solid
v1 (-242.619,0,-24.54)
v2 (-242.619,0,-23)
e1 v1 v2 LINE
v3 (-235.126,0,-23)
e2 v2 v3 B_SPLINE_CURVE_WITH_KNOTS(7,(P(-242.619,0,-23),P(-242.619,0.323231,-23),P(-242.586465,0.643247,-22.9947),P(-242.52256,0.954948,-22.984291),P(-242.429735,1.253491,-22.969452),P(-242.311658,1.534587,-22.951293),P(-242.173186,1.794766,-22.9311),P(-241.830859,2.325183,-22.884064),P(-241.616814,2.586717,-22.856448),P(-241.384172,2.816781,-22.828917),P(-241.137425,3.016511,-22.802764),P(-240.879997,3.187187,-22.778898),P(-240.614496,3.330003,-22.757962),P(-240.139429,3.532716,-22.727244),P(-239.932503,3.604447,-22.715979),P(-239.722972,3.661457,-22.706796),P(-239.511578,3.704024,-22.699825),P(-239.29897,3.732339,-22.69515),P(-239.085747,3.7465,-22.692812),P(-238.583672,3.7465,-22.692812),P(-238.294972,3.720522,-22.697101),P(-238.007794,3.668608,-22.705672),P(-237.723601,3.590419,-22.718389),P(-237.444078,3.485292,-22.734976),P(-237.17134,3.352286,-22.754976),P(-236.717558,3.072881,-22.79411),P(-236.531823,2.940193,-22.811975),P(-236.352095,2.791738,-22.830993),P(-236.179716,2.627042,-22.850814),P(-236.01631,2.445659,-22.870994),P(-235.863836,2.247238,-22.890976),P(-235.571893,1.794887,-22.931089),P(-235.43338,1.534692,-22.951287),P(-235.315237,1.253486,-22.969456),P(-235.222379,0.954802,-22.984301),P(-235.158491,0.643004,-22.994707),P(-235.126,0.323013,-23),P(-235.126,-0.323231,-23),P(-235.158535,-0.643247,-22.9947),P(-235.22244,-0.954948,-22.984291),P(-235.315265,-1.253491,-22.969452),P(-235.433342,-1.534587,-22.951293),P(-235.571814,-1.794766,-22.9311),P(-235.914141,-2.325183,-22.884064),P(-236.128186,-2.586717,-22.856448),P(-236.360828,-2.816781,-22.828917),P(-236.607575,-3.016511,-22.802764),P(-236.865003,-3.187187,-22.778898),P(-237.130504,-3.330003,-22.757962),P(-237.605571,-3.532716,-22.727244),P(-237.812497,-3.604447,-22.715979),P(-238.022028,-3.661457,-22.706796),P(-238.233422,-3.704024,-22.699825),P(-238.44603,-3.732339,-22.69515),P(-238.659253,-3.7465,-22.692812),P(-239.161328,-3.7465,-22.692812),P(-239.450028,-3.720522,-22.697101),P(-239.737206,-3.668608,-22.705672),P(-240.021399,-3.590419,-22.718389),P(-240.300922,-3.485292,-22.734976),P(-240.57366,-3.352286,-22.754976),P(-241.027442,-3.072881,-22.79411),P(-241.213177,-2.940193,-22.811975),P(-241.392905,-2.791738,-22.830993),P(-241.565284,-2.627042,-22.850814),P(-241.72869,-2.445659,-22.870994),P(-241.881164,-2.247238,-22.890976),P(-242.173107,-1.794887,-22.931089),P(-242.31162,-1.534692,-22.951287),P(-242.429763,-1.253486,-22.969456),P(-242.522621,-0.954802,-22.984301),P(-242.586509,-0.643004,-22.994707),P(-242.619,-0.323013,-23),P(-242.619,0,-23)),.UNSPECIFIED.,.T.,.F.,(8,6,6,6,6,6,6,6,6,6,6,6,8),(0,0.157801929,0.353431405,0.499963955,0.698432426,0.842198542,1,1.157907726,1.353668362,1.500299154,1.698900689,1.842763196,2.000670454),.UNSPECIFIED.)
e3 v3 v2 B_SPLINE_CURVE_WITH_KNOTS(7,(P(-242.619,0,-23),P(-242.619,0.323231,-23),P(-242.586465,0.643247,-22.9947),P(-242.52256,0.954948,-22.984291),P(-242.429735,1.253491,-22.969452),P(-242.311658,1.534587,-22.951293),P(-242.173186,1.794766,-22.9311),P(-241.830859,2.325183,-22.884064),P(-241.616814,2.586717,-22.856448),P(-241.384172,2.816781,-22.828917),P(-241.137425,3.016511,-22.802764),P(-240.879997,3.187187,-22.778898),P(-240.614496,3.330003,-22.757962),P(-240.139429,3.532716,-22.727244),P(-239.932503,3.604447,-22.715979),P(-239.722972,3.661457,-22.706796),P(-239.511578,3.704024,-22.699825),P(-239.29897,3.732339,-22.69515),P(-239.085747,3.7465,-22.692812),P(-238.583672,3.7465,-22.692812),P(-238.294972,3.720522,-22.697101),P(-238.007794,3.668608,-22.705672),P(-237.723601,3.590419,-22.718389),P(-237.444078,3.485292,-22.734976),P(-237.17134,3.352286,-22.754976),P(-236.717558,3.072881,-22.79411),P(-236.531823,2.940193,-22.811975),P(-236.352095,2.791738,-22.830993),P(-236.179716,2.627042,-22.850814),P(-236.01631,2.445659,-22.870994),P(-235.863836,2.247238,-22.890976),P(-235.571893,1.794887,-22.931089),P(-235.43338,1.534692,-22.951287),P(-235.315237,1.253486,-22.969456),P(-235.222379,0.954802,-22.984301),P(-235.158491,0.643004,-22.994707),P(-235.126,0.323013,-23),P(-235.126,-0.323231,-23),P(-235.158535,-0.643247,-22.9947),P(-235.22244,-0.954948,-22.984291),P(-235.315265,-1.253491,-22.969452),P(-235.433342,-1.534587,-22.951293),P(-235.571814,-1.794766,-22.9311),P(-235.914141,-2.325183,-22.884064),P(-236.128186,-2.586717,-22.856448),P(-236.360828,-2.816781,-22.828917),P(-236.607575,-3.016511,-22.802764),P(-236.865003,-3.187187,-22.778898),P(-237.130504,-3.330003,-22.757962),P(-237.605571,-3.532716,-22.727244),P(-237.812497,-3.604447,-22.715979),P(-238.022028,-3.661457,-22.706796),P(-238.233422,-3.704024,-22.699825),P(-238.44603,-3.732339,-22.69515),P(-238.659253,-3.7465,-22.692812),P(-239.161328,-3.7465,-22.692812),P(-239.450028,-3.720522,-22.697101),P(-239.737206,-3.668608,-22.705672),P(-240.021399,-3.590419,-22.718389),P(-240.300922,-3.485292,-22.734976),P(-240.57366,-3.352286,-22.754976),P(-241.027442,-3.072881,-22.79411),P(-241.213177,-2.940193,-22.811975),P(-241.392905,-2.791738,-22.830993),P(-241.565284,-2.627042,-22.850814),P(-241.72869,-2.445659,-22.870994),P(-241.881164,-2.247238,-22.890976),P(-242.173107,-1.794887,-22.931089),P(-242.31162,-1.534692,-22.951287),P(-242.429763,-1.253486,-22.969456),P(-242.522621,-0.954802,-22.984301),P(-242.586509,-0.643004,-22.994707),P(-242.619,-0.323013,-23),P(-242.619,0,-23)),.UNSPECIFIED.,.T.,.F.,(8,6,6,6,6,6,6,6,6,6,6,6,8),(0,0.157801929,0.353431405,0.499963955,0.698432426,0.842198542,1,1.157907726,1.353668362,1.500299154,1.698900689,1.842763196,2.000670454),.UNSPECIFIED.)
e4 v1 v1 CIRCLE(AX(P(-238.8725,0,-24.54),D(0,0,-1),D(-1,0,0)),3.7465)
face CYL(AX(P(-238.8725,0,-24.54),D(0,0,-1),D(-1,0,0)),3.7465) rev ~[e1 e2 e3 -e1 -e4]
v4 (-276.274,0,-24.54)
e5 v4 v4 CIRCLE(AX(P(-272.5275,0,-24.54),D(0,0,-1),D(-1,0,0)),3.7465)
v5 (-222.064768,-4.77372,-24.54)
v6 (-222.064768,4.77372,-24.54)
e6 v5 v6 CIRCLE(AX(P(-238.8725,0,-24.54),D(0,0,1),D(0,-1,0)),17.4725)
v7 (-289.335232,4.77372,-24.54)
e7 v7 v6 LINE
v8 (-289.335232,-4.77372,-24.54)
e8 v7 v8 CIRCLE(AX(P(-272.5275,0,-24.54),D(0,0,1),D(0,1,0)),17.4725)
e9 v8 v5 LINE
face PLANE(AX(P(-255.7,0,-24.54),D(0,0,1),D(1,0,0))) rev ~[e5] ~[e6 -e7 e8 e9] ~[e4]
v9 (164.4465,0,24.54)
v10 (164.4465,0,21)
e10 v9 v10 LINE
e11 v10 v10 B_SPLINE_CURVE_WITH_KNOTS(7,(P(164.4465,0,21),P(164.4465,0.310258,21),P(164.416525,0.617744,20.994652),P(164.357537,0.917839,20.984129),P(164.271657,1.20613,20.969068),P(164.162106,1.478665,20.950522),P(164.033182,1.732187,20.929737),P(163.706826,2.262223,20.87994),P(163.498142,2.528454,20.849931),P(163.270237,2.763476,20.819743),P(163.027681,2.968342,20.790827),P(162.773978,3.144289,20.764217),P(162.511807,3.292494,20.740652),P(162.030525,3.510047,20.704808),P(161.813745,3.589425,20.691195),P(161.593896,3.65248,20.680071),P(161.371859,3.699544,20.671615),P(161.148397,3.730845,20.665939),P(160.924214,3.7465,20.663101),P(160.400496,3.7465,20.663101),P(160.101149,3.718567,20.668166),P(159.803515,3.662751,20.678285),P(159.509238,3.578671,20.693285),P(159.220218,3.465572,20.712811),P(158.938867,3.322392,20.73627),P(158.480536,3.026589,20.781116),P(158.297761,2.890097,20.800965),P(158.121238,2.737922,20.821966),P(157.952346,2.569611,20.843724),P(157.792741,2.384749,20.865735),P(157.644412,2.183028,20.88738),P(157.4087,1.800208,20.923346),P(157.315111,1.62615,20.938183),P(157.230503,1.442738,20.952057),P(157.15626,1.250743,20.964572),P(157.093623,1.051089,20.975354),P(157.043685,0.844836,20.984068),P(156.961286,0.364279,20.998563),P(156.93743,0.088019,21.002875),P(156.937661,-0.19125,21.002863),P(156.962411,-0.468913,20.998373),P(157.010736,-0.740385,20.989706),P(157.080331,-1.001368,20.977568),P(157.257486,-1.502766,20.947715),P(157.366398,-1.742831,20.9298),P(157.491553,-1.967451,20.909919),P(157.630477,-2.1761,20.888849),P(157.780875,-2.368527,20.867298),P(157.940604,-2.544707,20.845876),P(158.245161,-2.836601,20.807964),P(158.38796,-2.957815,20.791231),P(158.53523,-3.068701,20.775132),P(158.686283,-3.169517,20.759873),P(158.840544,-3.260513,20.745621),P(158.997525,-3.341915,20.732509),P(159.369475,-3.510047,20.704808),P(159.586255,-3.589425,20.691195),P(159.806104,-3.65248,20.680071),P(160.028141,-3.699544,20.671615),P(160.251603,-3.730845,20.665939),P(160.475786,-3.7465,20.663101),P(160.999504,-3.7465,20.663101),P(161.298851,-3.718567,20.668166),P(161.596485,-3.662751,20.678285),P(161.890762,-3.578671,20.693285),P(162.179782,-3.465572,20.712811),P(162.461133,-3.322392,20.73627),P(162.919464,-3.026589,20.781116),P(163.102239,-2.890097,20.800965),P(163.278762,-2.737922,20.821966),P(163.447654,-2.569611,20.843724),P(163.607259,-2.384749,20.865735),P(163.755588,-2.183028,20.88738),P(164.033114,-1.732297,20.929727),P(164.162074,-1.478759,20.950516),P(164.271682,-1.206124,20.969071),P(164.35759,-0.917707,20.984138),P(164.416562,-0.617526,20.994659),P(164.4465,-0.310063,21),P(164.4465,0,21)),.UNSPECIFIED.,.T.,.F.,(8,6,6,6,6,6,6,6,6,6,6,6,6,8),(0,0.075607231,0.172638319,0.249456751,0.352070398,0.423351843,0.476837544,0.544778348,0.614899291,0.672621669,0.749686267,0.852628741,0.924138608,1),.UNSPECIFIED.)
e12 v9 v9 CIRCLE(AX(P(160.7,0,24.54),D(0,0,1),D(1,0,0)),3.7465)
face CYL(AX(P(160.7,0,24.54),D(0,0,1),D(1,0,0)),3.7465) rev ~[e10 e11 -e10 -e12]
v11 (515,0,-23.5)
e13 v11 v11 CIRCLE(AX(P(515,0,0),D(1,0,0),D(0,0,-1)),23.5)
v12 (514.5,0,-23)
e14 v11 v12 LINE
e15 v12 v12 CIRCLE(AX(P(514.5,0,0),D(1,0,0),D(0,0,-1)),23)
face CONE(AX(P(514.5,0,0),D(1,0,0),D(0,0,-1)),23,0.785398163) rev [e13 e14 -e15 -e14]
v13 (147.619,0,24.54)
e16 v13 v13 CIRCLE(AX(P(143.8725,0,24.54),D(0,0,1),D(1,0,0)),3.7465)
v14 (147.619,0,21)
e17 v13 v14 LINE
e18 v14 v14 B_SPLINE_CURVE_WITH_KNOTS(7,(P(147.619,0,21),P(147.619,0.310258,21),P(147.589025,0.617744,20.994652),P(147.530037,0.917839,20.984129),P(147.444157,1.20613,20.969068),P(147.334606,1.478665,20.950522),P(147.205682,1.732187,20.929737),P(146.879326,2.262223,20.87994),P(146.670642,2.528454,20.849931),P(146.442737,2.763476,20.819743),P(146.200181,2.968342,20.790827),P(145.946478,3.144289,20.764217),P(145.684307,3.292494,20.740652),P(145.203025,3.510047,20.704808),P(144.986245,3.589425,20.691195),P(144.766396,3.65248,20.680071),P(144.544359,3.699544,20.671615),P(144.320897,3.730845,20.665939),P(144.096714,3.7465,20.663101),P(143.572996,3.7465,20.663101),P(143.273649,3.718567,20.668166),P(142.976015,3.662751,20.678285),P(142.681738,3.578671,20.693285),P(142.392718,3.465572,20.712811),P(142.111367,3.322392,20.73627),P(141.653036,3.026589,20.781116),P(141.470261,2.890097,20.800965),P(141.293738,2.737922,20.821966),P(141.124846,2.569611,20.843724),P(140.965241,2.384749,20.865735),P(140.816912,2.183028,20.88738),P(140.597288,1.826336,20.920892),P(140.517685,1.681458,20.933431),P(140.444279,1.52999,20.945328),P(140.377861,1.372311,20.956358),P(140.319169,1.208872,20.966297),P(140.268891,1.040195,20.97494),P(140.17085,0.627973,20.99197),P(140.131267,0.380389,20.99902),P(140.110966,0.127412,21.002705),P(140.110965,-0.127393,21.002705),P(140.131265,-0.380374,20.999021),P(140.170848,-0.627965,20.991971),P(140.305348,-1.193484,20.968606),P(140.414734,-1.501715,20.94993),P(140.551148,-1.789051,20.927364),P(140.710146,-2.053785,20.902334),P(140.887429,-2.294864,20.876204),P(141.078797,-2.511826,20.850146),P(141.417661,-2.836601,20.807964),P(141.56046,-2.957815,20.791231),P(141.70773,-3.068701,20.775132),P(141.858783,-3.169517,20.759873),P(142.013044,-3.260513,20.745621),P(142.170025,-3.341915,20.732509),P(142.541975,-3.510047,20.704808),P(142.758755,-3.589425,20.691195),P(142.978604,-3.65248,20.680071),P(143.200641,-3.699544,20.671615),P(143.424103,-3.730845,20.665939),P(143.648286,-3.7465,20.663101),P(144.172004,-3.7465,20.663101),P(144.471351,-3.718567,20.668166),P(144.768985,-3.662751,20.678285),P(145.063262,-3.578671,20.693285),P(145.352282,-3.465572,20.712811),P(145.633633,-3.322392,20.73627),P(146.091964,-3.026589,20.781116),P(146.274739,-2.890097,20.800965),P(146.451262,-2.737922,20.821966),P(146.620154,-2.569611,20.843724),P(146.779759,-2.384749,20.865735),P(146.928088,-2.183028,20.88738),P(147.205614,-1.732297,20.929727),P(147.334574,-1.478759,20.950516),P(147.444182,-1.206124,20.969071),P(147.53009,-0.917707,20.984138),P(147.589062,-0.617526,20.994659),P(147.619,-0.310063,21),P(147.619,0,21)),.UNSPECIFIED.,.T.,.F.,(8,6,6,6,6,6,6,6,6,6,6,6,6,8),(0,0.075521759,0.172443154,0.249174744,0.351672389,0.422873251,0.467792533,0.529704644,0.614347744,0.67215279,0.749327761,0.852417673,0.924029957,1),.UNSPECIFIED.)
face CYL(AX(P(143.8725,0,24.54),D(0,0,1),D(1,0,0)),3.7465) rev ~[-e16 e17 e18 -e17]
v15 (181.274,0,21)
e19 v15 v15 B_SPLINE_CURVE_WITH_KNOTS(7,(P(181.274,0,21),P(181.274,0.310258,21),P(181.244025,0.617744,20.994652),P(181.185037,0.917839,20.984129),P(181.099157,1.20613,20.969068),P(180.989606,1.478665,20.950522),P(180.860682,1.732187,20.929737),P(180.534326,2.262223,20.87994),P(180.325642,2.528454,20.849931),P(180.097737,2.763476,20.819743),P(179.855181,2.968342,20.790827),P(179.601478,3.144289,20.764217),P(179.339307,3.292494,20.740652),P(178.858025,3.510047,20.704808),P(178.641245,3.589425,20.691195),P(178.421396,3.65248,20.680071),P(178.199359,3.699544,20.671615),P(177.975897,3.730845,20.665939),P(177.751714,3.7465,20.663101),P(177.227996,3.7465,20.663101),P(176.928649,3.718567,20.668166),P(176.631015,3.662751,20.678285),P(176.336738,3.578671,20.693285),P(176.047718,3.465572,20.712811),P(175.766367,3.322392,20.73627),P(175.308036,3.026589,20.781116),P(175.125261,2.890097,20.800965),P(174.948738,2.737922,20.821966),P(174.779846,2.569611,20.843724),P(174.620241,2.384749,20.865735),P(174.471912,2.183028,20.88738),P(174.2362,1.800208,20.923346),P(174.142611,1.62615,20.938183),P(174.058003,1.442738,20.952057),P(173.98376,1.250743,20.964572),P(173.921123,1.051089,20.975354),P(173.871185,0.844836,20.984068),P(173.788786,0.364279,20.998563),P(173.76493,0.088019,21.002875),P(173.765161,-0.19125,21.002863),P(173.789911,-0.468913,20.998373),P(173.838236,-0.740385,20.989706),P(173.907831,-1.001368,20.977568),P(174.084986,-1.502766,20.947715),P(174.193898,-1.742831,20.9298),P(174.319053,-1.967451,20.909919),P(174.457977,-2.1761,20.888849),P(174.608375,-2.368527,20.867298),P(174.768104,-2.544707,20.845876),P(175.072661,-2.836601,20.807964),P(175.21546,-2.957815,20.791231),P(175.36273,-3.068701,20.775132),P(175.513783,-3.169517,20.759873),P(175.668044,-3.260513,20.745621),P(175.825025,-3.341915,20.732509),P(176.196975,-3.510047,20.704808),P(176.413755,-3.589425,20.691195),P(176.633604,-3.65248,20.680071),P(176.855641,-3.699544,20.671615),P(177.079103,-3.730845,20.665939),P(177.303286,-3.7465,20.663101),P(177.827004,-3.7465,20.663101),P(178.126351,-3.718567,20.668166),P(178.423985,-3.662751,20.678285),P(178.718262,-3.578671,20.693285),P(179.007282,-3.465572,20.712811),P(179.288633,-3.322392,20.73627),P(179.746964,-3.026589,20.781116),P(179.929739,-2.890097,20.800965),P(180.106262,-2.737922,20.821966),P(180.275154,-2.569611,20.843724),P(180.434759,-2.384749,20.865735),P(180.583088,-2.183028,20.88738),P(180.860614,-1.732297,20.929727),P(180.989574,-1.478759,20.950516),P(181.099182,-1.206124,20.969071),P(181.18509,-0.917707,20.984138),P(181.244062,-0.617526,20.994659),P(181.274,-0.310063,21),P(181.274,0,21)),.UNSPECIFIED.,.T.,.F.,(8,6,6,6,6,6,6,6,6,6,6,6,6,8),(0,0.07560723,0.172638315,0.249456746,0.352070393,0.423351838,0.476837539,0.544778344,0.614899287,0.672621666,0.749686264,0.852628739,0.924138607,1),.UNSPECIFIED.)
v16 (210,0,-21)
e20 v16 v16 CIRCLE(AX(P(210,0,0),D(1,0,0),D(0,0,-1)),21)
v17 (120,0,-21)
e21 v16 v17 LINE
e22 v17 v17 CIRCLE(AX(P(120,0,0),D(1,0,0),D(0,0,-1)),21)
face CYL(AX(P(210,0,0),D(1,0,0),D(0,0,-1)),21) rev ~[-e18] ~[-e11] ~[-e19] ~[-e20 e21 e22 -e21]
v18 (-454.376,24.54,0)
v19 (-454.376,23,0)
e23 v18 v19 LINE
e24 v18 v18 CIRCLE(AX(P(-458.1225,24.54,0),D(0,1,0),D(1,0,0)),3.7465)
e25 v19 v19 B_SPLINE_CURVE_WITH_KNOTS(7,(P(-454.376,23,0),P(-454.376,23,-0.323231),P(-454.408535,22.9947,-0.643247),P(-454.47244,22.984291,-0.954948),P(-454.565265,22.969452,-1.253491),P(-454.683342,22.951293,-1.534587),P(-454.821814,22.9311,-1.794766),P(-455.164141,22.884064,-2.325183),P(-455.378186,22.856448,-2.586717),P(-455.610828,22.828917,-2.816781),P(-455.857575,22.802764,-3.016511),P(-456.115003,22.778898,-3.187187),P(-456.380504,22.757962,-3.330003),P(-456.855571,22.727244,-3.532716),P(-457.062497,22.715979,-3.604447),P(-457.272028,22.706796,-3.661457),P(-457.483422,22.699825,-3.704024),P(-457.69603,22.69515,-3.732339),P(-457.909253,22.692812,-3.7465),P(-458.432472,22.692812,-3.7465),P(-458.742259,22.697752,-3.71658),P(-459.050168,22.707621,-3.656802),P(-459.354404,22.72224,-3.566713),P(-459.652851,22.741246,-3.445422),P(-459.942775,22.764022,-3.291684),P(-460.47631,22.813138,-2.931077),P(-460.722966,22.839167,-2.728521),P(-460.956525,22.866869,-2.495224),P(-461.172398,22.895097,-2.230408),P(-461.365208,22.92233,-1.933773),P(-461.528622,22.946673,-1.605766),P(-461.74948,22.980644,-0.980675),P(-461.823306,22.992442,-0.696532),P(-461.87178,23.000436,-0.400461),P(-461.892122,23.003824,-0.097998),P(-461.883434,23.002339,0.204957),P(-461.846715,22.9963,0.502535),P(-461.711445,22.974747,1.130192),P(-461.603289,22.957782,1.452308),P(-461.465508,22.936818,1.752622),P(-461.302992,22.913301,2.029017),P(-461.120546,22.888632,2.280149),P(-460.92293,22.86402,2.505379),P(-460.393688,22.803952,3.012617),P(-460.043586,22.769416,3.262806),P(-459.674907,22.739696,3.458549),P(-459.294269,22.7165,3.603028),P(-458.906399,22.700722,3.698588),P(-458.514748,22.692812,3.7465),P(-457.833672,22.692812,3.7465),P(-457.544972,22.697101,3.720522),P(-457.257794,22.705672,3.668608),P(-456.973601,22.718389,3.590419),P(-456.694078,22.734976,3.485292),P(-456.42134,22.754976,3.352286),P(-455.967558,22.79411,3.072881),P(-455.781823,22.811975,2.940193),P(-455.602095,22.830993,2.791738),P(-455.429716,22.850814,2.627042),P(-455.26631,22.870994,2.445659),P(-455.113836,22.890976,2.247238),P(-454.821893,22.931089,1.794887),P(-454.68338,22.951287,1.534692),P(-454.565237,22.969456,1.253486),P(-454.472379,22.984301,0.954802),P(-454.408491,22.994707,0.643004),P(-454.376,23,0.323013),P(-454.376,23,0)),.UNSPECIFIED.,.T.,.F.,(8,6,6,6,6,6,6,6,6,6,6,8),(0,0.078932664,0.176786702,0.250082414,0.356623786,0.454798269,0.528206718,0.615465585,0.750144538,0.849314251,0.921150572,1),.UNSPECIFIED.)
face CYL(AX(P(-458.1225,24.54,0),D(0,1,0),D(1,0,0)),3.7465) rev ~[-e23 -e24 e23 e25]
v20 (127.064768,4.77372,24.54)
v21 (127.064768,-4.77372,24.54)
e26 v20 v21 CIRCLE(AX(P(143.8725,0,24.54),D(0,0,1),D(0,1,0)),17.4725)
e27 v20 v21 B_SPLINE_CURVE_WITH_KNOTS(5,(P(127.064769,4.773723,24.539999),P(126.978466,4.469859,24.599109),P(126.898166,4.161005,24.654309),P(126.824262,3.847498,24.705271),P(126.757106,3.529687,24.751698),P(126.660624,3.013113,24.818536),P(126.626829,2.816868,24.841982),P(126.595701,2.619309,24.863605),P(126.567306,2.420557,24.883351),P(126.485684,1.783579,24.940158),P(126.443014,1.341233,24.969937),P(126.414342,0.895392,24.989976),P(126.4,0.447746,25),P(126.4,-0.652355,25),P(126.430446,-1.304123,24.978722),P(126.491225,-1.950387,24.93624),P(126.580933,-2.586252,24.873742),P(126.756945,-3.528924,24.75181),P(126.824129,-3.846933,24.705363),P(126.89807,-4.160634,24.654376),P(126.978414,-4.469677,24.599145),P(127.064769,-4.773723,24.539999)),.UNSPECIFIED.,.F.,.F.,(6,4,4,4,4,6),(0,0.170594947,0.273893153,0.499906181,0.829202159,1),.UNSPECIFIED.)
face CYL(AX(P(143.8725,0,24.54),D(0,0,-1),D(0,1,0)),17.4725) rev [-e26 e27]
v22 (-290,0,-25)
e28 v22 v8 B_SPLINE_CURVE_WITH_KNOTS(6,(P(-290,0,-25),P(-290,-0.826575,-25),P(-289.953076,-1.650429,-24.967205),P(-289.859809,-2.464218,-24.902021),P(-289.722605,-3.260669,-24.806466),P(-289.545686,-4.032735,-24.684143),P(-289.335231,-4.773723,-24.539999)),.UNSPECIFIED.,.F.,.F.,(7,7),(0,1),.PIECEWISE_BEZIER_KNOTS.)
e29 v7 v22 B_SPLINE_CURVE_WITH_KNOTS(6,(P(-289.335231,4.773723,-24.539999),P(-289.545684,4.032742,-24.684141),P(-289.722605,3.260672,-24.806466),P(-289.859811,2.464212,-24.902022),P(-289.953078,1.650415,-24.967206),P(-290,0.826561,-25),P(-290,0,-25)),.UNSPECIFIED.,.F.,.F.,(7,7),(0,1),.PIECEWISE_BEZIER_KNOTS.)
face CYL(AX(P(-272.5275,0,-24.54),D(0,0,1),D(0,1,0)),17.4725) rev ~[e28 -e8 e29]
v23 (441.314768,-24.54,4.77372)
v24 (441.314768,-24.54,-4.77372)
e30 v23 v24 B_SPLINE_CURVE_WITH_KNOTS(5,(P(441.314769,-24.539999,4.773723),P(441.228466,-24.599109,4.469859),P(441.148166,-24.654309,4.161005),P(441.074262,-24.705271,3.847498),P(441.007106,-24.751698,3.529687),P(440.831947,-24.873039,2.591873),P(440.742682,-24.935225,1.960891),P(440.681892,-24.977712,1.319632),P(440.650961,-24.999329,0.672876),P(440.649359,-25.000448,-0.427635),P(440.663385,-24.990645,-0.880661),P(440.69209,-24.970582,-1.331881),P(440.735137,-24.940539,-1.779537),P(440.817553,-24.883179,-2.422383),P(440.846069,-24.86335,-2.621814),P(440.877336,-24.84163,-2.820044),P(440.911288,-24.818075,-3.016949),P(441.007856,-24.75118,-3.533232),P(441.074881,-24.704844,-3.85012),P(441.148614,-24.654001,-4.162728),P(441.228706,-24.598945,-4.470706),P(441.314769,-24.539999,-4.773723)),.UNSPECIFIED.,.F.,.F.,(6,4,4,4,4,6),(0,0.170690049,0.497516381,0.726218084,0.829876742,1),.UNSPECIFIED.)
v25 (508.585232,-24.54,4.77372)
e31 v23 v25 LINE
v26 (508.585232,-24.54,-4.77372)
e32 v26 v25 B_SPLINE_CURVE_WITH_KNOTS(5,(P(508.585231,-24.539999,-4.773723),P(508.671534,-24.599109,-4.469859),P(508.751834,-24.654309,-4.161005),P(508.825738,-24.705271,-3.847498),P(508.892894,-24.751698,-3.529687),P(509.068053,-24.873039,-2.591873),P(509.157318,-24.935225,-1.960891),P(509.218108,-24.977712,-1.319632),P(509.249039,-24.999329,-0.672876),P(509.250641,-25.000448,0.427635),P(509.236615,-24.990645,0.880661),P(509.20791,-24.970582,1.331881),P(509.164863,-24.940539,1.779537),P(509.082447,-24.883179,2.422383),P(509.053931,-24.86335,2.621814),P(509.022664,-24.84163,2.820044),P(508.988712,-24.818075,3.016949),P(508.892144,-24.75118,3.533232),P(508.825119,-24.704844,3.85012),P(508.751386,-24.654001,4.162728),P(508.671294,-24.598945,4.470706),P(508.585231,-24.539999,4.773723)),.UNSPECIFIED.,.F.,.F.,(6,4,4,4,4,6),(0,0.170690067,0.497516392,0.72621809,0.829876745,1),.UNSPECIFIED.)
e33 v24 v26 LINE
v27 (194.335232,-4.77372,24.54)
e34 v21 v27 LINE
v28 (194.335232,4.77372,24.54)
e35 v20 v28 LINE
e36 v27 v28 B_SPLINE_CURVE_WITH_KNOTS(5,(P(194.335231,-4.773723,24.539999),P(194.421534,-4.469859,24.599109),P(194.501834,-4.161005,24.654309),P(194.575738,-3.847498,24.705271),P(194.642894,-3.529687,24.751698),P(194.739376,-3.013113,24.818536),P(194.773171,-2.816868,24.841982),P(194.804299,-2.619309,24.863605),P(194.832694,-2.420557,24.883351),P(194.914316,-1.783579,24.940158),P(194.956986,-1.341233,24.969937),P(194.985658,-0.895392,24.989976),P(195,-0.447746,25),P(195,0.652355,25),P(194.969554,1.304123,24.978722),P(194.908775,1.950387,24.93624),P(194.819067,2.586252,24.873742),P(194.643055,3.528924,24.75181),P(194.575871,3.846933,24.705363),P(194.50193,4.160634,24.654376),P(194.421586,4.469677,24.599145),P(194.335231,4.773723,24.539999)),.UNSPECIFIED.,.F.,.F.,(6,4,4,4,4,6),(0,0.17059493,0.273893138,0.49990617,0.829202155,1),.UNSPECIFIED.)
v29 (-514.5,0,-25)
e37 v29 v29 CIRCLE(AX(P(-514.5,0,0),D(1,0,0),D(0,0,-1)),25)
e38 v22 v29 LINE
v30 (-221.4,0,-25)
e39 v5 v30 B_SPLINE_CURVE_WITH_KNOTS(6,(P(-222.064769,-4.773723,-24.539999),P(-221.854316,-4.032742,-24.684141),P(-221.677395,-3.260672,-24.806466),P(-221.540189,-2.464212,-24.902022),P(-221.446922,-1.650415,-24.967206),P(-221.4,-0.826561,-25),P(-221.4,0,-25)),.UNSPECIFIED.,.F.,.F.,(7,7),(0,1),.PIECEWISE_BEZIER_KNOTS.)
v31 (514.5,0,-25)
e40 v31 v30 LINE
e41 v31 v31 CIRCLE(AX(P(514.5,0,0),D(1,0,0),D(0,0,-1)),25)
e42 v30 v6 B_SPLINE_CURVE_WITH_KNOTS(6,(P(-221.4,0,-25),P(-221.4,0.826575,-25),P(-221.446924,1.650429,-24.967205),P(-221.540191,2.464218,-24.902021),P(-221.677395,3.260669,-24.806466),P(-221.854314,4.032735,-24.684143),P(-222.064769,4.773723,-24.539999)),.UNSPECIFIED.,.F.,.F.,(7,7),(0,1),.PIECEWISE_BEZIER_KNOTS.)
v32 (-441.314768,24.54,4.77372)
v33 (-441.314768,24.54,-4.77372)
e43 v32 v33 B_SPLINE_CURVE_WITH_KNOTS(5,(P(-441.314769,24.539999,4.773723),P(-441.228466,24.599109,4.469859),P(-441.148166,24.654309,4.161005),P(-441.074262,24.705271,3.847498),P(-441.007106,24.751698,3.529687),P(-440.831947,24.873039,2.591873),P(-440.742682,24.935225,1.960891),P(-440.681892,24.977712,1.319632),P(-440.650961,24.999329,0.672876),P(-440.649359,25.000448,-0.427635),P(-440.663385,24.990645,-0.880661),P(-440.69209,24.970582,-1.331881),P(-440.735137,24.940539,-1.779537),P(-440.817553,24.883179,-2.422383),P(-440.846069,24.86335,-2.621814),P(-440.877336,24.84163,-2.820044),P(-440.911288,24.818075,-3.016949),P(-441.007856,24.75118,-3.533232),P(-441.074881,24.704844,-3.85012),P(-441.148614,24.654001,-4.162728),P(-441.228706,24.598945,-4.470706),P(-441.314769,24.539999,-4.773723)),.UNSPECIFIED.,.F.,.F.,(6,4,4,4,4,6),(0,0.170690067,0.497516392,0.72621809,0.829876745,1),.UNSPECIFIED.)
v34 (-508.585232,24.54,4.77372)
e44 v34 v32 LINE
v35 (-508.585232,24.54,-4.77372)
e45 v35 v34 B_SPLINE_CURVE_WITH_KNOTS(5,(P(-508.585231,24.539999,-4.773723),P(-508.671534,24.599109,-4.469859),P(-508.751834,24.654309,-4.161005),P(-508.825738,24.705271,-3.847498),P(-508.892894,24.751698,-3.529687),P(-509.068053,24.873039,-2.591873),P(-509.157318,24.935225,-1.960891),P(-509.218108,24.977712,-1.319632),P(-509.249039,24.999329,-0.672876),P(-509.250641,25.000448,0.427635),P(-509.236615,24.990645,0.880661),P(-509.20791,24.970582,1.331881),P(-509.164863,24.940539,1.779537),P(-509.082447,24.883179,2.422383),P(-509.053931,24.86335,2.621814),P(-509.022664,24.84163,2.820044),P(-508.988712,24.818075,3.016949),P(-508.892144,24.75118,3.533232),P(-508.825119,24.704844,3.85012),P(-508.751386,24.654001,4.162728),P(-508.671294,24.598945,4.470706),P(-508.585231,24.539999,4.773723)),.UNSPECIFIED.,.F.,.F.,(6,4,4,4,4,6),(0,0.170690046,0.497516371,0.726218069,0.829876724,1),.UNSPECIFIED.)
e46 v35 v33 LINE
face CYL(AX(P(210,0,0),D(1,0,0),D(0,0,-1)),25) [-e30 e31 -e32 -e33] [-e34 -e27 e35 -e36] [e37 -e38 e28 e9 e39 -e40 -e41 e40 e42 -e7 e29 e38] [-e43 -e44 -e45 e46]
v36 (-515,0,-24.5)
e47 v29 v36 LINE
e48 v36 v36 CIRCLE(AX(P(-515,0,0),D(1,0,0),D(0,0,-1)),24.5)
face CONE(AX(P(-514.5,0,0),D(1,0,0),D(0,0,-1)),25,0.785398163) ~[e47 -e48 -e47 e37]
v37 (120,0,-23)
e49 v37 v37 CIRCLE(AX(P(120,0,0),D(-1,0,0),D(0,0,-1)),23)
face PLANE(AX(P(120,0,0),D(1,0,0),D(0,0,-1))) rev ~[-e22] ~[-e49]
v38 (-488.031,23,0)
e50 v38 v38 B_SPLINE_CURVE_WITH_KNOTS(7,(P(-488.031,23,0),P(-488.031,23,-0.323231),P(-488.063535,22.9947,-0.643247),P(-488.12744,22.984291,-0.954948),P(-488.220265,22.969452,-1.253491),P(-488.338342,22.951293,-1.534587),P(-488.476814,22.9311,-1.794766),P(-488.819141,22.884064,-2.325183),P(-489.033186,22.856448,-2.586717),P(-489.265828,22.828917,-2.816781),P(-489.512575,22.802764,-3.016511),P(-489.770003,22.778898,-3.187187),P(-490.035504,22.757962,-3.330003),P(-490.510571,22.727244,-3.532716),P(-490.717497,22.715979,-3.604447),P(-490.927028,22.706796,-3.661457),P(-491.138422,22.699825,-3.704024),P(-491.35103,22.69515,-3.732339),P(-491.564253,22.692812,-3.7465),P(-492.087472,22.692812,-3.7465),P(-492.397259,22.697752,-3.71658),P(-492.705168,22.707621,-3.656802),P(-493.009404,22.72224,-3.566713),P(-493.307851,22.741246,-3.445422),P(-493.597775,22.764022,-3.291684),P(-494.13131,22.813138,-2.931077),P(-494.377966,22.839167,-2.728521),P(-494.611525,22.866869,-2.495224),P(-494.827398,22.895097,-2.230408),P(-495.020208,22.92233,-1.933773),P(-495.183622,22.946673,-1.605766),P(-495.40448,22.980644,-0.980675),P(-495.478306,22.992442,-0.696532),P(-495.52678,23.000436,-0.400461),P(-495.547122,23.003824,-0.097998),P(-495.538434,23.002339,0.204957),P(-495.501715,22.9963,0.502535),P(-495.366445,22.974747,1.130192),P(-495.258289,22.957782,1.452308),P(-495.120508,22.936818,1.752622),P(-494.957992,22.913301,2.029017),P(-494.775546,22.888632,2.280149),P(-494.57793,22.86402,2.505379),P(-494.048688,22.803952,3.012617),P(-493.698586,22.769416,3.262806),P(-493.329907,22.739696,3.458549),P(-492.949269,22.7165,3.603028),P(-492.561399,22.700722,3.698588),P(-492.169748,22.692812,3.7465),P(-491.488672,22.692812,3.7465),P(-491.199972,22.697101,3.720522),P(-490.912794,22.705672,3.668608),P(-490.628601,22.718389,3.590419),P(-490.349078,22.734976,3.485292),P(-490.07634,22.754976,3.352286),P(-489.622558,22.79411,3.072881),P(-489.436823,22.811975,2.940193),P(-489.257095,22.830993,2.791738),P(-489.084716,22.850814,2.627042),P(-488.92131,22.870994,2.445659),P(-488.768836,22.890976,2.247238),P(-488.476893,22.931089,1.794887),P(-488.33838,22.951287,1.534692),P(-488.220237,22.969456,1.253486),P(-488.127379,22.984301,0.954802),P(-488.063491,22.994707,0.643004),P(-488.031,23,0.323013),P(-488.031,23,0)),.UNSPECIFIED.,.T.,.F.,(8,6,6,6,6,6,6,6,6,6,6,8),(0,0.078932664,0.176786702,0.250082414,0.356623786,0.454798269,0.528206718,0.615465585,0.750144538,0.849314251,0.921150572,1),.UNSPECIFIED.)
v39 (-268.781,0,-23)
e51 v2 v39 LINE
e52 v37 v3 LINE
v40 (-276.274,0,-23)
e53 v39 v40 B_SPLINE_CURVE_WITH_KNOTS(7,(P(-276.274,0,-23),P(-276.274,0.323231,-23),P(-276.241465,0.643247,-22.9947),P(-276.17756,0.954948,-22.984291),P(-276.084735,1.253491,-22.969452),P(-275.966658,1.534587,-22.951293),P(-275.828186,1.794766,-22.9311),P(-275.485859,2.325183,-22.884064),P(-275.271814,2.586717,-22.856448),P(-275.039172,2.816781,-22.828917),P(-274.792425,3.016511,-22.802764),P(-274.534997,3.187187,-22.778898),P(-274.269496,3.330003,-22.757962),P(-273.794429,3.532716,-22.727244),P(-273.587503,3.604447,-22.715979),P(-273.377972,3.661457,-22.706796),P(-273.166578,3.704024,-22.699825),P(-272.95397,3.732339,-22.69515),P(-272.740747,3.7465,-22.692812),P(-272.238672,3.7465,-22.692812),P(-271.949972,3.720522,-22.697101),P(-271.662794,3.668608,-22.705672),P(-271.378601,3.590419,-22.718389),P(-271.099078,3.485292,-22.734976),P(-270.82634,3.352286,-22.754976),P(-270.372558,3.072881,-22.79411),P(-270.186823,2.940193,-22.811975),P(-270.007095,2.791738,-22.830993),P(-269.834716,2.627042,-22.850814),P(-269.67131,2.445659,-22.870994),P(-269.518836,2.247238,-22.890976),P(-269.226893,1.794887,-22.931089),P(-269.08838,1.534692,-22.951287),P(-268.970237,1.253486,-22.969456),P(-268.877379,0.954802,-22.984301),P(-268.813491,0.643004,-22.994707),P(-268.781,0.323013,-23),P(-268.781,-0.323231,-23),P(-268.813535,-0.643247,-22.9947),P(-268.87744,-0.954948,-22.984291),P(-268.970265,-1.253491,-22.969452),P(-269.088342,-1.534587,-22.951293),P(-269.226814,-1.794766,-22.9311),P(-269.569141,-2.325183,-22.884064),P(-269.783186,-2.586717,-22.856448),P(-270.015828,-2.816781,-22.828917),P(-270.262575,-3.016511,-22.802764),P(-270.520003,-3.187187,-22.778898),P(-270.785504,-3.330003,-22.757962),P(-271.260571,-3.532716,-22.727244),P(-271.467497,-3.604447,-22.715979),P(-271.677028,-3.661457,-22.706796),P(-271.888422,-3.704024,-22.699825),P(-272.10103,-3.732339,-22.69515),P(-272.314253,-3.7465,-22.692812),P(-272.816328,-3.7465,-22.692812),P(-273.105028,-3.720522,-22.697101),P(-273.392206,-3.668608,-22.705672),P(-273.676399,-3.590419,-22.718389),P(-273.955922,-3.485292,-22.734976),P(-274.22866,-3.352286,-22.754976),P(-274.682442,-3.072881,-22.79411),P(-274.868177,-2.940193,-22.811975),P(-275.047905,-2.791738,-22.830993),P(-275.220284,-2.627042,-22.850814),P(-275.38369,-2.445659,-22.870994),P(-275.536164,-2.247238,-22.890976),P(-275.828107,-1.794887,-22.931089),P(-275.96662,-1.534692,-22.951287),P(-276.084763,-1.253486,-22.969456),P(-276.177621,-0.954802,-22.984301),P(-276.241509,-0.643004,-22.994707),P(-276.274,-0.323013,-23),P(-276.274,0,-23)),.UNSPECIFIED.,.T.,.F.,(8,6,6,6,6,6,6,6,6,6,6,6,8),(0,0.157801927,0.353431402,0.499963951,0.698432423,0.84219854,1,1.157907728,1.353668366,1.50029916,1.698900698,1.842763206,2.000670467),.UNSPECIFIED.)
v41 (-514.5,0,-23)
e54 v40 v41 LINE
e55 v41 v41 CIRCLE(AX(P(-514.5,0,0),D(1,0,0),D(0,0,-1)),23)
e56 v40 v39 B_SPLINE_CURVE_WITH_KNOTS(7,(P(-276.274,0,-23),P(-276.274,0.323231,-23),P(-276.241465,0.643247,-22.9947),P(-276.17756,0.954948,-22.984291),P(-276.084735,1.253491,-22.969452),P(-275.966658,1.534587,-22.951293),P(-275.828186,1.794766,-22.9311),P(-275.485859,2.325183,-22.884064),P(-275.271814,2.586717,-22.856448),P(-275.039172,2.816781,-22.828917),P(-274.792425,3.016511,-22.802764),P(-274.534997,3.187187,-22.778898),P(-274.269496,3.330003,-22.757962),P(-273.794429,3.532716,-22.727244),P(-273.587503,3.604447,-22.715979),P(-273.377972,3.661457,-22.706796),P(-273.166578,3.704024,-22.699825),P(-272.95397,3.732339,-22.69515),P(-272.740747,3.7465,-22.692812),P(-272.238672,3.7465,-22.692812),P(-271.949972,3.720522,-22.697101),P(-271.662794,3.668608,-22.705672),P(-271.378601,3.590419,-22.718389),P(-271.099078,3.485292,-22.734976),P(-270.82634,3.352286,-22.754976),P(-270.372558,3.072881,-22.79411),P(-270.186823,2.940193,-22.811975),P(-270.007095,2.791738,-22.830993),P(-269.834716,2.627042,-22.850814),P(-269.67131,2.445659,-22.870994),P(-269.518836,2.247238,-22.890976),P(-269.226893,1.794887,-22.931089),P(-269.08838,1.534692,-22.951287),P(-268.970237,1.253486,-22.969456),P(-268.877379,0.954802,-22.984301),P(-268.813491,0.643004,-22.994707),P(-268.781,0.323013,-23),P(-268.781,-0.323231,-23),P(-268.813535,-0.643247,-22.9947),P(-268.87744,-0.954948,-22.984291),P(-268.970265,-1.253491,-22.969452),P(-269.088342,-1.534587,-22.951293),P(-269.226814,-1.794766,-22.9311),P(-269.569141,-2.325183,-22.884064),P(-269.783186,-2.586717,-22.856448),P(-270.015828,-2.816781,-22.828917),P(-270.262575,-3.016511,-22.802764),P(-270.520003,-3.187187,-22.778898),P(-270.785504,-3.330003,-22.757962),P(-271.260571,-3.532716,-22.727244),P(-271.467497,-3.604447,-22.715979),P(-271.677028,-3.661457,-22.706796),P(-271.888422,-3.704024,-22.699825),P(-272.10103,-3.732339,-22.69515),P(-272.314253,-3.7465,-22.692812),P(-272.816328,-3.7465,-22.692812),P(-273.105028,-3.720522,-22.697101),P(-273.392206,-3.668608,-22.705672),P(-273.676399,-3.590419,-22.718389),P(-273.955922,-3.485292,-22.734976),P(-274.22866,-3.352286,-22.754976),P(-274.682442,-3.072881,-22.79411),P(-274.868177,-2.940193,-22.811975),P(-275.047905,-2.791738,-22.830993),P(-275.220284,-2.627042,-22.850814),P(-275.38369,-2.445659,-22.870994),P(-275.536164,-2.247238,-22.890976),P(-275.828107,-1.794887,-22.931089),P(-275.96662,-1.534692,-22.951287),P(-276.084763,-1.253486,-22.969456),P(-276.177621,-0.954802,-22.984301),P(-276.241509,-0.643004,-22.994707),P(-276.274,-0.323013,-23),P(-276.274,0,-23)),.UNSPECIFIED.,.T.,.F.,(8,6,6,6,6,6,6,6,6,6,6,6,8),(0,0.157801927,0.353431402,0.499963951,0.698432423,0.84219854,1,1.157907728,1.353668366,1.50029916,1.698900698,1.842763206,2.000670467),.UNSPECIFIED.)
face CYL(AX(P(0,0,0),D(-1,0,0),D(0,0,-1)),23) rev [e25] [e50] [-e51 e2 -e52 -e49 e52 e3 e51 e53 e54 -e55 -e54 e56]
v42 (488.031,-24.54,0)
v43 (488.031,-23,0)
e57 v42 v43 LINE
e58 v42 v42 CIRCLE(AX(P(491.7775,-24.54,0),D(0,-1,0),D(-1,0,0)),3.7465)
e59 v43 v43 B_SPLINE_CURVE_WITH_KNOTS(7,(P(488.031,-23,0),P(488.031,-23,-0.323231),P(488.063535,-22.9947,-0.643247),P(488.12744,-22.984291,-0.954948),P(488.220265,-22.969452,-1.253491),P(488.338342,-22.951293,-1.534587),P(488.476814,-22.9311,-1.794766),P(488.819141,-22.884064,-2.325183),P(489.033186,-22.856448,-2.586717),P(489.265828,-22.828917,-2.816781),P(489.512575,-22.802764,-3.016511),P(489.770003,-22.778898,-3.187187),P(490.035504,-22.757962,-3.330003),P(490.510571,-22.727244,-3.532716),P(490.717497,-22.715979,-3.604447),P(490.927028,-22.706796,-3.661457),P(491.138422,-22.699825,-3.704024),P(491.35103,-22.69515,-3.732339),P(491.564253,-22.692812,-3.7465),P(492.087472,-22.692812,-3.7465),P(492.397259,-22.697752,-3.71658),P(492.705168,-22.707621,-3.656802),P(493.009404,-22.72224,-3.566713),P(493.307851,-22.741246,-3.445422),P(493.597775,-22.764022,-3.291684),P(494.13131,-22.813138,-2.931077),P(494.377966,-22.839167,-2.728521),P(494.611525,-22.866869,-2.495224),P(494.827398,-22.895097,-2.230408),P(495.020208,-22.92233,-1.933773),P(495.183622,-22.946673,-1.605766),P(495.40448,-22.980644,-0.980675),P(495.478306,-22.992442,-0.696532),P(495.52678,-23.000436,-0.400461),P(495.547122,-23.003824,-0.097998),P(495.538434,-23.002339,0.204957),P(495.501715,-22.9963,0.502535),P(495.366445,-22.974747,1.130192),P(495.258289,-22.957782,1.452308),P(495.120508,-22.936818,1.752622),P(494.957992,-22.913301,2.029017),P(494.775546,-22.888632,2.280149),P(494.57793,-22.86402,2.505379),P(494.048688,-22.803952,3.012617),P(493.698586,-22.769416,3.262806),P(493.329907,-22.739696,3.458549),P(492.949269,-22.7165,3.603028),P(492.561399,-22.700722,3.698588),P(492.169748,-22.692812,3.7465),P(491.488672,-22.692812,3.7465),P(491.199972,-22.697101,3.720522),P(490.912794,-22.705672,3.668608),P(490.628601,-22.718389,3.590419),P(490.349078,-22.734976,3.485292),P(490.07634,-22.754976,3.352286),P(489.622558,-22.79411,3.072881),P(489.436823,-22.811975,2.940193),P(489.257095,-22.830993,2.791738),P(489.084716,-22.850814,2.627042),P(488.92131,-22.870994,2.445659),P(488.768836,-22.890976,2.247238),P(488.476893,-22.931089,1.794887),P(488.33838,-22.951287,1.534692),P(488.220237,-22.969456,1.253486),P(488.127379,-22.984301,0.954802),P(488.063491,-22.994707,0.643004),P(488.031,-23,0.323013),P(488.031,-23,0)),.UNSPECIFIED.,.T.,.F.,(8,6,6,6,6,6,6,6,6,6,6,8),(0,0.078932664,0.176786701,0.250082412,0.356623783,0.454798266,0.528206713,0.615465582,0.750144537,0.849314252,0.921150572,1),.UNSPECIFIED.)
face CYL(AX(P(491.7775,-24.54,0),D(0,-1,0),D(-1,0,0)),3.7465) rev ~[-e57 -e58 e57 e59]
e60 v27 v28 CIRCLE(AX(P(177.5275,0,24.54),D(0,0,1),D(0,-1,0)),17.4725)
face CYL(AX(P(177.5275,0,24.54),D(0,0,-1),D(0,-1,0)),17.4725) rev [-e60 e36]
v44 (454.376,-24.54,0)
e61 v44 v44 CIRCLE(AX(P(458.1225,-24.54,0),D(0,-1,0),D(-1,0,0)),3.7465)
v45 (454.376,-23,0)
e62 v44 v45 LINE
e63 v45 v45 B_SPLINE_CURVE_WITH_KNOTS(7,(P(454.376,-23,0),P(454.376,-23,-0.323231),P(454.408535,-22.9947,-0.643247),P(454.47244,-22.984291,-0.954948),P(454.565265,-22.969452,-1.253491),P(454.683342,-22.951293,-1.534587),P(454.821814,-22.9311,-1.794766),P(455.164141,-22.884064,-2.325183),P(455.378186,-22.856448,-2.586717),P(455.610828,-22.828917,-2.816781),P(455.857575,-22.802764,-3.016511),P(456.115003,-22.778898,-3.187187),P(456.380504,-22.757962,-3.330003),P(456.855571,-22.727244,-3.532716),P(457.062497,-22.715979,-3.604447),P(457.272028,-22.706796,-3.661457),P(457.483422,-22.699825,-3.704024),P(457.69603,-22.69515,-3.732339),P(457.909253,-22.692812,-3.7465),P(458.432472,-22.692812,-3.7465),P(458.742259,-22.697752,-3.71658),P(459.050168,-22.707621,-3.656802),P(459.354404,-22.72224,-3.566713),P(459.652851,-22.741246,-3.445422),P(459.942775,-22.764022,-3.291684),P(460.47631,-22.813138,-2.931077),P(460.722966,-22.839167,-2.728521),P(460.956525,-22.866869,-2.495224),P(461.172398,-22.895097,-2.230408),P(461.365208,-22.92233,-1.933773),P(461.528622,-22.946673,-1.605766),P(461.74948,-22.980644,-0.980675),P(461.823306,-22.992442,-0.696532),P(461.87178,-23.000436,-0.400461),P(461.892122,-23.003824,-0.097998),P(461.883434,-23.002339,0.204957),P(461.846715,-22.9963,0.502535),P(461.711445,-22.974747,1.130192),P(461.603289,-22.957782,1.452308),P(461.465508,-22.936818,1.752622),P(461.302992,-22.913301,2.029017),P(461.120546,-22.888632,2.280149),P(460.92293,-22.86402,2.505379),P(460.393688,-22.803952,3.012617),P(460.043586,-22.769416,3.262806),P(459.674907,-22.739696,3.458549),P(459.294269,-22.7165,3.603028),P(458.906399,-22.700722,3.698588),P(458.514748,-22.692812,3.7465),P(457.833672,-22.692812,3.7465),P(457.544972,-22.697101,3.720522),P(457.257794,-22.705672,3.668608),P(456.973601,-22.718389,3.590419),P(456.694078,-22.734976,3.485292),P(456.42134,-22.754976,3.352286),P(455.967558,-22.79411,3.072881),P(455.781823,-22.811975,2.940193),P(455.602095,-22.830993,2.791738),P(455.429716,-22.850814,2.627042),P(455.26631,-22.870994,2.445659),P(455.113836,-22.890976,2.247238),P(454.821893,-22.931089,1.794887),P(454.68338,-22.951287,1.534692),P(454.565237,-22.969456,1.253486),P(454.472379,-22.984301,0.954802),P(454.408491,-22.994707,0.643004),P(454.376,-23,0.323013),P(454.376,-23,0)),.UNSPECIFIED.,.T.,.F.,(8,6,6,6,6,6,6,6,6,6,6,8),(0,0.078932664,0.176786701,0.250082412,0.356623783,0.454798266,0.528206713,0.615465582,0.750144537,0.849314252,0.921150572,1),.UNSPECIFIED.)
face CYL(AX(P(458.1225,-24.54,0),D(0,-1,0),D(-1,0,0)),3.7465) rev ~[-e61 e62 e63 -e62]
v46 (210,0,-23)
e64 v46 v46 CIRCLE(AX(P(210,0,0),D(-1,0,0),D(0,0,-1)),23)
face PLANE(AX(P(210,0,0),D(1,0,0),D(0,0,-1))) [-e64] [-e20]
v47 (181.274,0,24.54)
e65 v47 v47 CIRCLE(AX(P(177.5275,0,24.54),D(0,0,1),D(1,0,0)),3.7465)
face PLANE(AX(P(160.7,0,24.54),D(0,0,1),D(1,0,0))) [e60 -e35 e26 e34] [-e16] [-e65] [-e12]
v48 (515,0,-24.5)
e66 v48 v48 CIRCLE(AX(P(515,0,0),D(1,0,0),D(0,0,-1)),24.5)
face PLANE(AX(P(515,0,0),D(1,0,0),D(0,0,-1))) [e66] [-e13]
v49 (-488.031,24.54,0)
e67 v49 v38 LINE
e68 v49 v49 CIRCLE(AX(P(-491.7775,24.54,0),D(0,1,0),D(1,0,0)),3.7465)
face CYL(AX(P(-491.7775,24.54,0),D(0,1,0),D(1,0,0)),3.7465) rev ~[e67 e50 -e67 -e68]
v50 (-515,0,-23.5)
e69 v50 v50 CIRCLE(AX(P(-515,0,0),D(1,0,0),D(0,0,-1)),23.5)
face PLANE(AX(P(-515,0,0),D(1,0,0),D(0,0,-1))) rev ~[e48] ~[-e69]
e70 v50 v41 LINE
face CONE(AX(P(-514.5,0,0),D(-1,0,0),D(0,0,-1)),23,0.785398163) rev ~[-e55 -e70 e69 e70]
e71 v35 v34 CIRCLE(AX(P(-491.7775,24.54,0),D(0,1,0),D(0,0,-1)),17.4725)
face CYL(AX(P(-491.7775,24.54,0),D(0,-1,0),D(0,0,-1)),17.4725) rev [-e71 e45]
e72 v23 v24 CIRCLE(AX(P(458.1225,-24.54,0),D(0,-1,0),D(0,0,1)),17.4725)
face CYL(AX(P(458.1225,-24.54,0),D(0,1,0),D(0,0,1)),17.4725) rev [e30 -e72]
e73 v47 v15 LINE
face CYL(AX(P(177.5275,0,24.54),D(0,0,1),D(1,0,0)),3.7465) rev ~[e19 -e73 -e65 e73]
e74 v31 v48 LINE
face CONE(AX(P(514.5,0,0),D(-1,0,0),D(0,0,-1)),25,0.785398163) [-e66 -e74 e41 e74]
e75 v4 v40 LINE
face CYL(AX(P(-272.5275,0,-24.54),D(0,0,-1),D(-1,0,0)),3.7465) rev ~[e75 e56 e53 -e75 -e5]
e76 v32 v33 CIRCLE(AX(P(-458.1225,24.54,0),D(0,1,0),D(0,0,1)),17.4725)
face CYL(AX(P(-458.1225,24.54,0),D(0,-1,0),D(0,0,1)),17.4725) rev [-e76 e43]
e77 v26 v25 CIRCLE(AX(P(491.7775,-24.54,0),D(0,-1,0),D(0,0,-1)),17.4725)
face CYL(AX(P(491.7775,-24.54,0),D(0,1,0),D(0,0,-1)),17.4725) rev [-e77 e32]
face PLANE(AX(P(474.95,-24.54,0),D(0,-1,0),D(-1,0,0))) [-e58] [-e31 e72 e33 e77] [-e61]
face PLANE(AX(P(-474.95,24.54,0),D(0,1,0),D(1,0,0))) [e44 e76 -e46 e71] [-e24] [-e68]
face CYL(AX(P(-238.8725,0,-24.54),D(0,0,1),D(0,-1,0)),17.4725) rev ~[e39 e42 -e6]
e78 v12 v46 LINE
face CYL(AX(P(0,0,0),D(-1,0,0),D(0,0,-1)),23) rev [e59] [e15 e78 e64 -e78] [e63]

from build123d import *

# Parameters (mm, degrees)
SKETCH1_R                     = 25
SKETCH1_R_2                   = 23
EXTRUDE_THIN1_DEPTH           = 515
EXTRUDE_THIN2_START           = 210
SKETCH1_3_R                   = 25
SKETCH1_3_R_2                 = 21
EXTRUDE_THIN2_DEPTH           = 90
CUT_EXTRUDE1_START            = 24.54
CUT_EXTRUDE1_DEPTH            = 492.672165684
CUT_EXTRUDE2_START            = -24.54
CUT_EXTRUDE2_DEPTH            = 492.672165793
CUT_EXTRUDE3_START            = -24.54
CUT_EXTRUDE3_DEPTH            = 492.672165793
CUT_EXTRUDE4_START            = 24.54
CUT_EXTRUDE4_DEPTH            = 492.672165793
M_0_295_DIAMETER_HOLE3_REACH  = 519.981
M_0_295_DIAMETER_HOLE3_BORE_R = 3.7465
M_0_295_DIAMETER_HOLE4_REACH  = 519.981
M_0_295_DIAMETER_HOLE4_BORE_R = 3.7465
M_0_295_DIAMETER_HOLE5_REACH  = 519.981
M_0_295_DIAMETER_HOLE5_BORE_R = 3.7465
M_0_295_DIAMETER_HOLE6_REACH  = 519.981
M_0_295_DIAMETER_HOLE6_BORE_R = 3.7465
CHAMFER1_SIZE                 = 0.5


with BuildPart() as part:
    # Sketch1 → Extrude-Thin1 (new, symmetric)
    with BuildSketch(Plane(origin=(0, 0, 0), x_dir=(0, 0, -1), z_dir=(1, 0, 0))):
        Circle(SKETCH1_R)
        Circle(SKETCH1_R_2, mode=Mode.SUBTRACT)
    extrude(amount=EXTRUDE_THIN1_DEPTH, both=True)

    # Sketch1<3> → Extrude-Thin2 (add)
    with BuildSketch(Plane(origin=(0, 0, 0), x_dir=(0, 0, -1), z_dir=(1, 0, 0)).offset(EXTRUDE_THIN2_START)):
        Circle(SKETCH1_3_R)
        Circle(SKETCH1_3_R_2, mode=Mode.SUBTRACT)
    extrude(amount=-EXTRUDE_THIN2_DEPTH)

    # Sketch3 → Cut-Extrude1 (cut, through all)
    with BuildSketch(Plane(origin=(0, 0, 0), x_dir=(1, 0, 0), z_dir=(0, 1, 0)).offset(CUT_EXTRUDE1_START)):
        with BuildLine():
            Line((-491.7775, -17.4725), (-458.1225, -17.4725))
            ThreePointArc((-458.1225, -17.4725), (-440.65, 0), (-458.1225, 17.4725))
            Line((-458.1225, 17.4725), (-491.7775, 17.4725))
            ThreePointArc((-491.7775, 17.4725), (-509.25, 0), (-491.7775, -17.4725))
        make_face()
    extrude(amount=CUT_EXTRUDE1_DEPTH, mode=Mode.SUBTRACT)

    # Sketch8 → Cut-Extrude2 (cut, through all)
    with BuildSketch(Plane.XY.offset(CUT_EXTRUDE2_START)):
        with BuildLine():
            Line((-272.5275, -17.4725), (-238.8725, -17.4725))
            ThreePointArc((-238.8725, -17.4725), (-221.4, 0), (-238.8725, 17.4725))
            Line((-238.8725, 17.4725), (-272.5275, 17.4725))
            ThreePointArc((-272.5275, 17.4725), (-290, 0), (-272.5275, -17.4725))
        make_face()
    extrude(amount=-CUT_EXTRUDE2_DEPTH, mode=Mode.SUBTRACT)

    # Sketch3<3> → Cut-Extrude3 (cut, through all)
    with BuildSketch(Plane(origin=(0, 0, 0), x_dir=(1, 0, 0), z_dir=(0, 1, 0)).offset(CUT_EXTRUDE3_START)):
        with BuildLine():
            ThreePointArc((458.1225, -17.4725), (440.65, 0), (458.1225, 17.4725))
            Line((458.1225, 17.4725), (491.7775, 17.4725))
            ThreePointArc((491.7775, 17.4725), (509.25, 0), (491.7775, -17.4725))
            Line((491.7775, -17.4725), (458.1225, -17.4725))
        make_face()
    extrude(amount=-CUT_EXTRUDE3_DEPTH, mode=Mode.SUBTRACT)

    # Sketch8<4> → Cut-Extrude4 (cut, through all)
    with BuildSketch(Plane.XY.offset(CUT_EXTRUDE4_START)):
        with BuildLine():
            Line((143.8725, -17.4725), (177.5275, -17.4725))
            ThreePointArc((177.5275, -17.4725), (195, 0), (177.5275, 17.4725))
            Line((177.5275, 17.4725), (143.8725, 17.4725))
            ThreePointArc((143.8725, 17.4725), (126.4, 0), (143.8725, -17.4725))
        make_face()
    extrude(amount=CUT_EXTRUDE4_DEPTH, mode=Mode.SUBTRACT)

    # M (0.295) Diameter Hole3 bore → M (0.295) Diameter Hole3 (cut, up to next)
    with BuildSketch(Plane(origin=(0, 24.54, 0), x_dir=(1, 0, 0), z_dir=(0, 1, 0)), mode=Mode.PRIVATE) as m_0_295_diameter_hole3_sk1:
        with Locations((-491.7775, 0)):
            Circle(M_0_295_DIAMETER_HOLE3_BORE_R)
    m_0_295_diameter_hole3_tool1 = extrude(m_0_295_diameter_hole3_sk1.sketch, amount=-M_0_295_DIAMETER_HOLE3_REACH, mode=Mode.PRIVATE) & part.part
    # M (0.295) Diameter Hole3 bore → M (0.295) Diameter Hole3 (cut, up to next)
    with BuildSketch(Plane(origin=(0, 24.54, 0), x_dir=(1, 0, 0), z_dir=(0, 1, 0)), mode=Mode.PRIVATE) as m_0_295_diameter_hole3_sk2:
        with Locations((-458.1225, 0)):
            Circle(M_0_295_DIAMETER_HOLE3_BORE_R)
    m_0_295_diameter_hole3_tool2 = extrude(m_0_295_diameter_hole3_sk2.sketch, amount=-M_0_295_DIAMETER_HOLE3_REACH, mode=Mode.PRIVATE) & part.part
    add(m_0_295_diameter_hole3_tool1.solids().sort_by_distance((-491.7775, 24.54, 0))[0], mode=Mode.SUBTRACT)
    add(m_0_295_diameter_hole3_tool2.solids().sort_by_distance((-458.1225, 24.54, 0))[0], mode=Mode.SUBTRACT)

    # M (0.295) Diameter Hole4 bore → M (0.295) Diameter Hole4 (cut, up to next)
    with BuildSketch(Plane(origin=(0, 0, -24.54), x_dir=(-1, 0, 0), z_dir=(0, 0, -1)), mode=Mode.PRIVATE) as m_0_295_diameter_hole4_sk1:
        with Locations((238.8725, 0)):
            Circle(M_0_295_DIAMETER_HOLE4_BORE_R)
    m_0_295_diameter_hole4_tool1 = extrude(m_0_295_diameter_hole4_sk1.sketch, amount=-M_0_295_DIAMETER_HOLE4_REACH, mode=Mode.PRIVATE) & part.part
    # M (0.295) Diameter Hole4 bore → M (0.295) Diameter Hole4 (cut, up to next)
    with BuildSketch(Plane(origin=(0, 0, -24.54), x_dir=(-1, 0, 0), z_dir=(0, 0, -1)), mode=Mode.PRIVATE) as m_0_295_diameter_hole4_sk2:
        with Locations((272.5275, 0)):
            Circle(M_0_295_DIAMETER_HOLE4_BORE_R)
    m_0_295_diameter_hole4_tool2 = extrude(m_0_295_diameter_hole4_sk2.sketch, amount=-M_0_295_DIAMETER_HOLE4_REACH, mode=Mode.PRIVATE) & part.part
    add(m_0_295_diameter_hole4_tool1.solids().sort_by_distance((-238.8725, 0, -24.54))[0], mode=Mode.SUBTRACT)
    add(m_0_295_diameter_hole4_tool2.solids().sort_by_distance((-272.5275, 0, -24.54))[0], mode=Mode.SUBTRACT)

    # M (0.295) Diameter Hole5 bore → M (0.295) Diameter Hole5 (cut, up to next)
    with BuildSketch(Plane.XY.offset(24.54), mode=Mode.PRIVATE) as m_0_295_diameter_hole5_sk1:
        with Locations((143.8725, 0)):
            Circle(M_0_295_DIAMETER_HOLE5_BORE_R)
    m_0_295_diameter_hole5_tool1 = extrude(m_0_295_diameter_hole5_sk1.sketch, amount=-M_0_295_DIAMETER_HOLE5_REACH, mode=Mode.PRIVATE) & part.part
    # M (0.295) Diameter Hole5 bore → M (0.295) Diameter Hole5 (cut, up to next)
    with BuildSketch(Plane.XY.offset(24.54), mode=Mode.PRIVATE) as m_0_295_diameter_hole5_sk2:
        with Locations((160.7, 0)):
            Circle(M_0_295_DIAMETER_HOLE5_BORE_R)
    m_0_295_diameter_hole5_tool2 = extrude(m_0_295_diameter_hole5_sk2.sketch, amount=-M_0_295_DIAMETER_HOLE5_REACH, mode=Mode.PRIVATE) & part.part
    # M (0.295) Diameter Hole5 bore → M (0.295) Diameter Hole5 (cut, up to next)
    with BuildSketch(Plane.XY.offset(24.54), mode=Mode.PRIVATE) as m_0_295_diameter_hole5_sk3:
        with Locations((177.5275, 0)):
            Circle(M_0_295_DIAMETER_HOLE5_BORE_R)
    m_0_295_diameter_hole5_tool3 = extrude(m_0_295_diameter_hole5_sk3.sketch, amount=-M_0_295_DIAMETER_HOLE5_REACH, mode=Mode.PRIVATE) & part.part
    add(m_0_295_diameter_hole5_tool1.solids().sort_by_distance((143.8725, 0, 24.54))[0], mode=Mode.SUBTRACT)
    add(m_0_295_diameter_hole5_tool2.solids().sort_by_distance((160.7, 0, 24.54))[0], mode=Mode.SUBTRACT)
    add(m_0_295_diameter_hole5_tool3.solids().sort_by_distance((177.5275, 0, 24.54))[0], mode=Mode.SUBTRACT)

    # M (0.295) Diameter Hole6 bore → M (0.295) Diameter Hole6 (cut, up to next)
    with BuildSketch(Plane(origin=(0, -24.54, 0), x_dir=(-1, 0, 0), z_dir=(0, -1, 0)), mode=Mode.PRIVATE) as m_0_295_diameter_hole6_sk1:
        with Locations((-491.7775, 0)):
            Circle(M_0_295_DIAMETER_HOLE6_BORE_R)
    m_0_295_diameter_hole6_tool1 = extrude(m_0_295_diameter_hole6_sk1.sketch, amount=-M_0_295_DIAMETER_HOLE6_REACH, mode=Mode.PRIVATE) & part.part
    # M (0.295) Diameter Hole6 bore → M (0.295) Diameter Hole6 (cut, up to next)
    with BuildSketch(Plane(origin=(0, -24.54, 0), x_dir=(-1, 0, 0), z_dir=(0, -1, 0)), mode=Mode.PRIVATE) as m_0_295_diameter_hole6_sk2:
        with Locations((-458.1225, 0)):
            Circle(M_0_295_DIAMETER_HOLE6_BORE_R)
    m_0_295_diameter_hole6_tool2 = extrude(m_0_295_diameter_hole6_sk2.sketch, amount=-M_0_295_DIAMETER_HOLE6_REACH, mode=Mode.PRIVATE) & part.part
    add(m_0_295_diameter_hole6_tool1.solids().sort_by_distance((491.7775, -24.54, 0))[0], mode=Mode.SUBTRACT)
    add(m_0_295_diameter_hole6_tool2.solids().sort_by_distance((458.1225, -24.54, 0))[0], mode=Mode.SUBTRACT)

    # Chamfer1
    chamfer1_edges = [part.edges().sort_by_distance(p)[0] for p in [
        (-515, 0, 25),
        (-515, 0, 23),
        (515, 0, 25),
        (515, 0, 23),
    ]]
    chamfer(chamfer1_edges, length=CHAMFER1_SIZE)


solid = part.part
